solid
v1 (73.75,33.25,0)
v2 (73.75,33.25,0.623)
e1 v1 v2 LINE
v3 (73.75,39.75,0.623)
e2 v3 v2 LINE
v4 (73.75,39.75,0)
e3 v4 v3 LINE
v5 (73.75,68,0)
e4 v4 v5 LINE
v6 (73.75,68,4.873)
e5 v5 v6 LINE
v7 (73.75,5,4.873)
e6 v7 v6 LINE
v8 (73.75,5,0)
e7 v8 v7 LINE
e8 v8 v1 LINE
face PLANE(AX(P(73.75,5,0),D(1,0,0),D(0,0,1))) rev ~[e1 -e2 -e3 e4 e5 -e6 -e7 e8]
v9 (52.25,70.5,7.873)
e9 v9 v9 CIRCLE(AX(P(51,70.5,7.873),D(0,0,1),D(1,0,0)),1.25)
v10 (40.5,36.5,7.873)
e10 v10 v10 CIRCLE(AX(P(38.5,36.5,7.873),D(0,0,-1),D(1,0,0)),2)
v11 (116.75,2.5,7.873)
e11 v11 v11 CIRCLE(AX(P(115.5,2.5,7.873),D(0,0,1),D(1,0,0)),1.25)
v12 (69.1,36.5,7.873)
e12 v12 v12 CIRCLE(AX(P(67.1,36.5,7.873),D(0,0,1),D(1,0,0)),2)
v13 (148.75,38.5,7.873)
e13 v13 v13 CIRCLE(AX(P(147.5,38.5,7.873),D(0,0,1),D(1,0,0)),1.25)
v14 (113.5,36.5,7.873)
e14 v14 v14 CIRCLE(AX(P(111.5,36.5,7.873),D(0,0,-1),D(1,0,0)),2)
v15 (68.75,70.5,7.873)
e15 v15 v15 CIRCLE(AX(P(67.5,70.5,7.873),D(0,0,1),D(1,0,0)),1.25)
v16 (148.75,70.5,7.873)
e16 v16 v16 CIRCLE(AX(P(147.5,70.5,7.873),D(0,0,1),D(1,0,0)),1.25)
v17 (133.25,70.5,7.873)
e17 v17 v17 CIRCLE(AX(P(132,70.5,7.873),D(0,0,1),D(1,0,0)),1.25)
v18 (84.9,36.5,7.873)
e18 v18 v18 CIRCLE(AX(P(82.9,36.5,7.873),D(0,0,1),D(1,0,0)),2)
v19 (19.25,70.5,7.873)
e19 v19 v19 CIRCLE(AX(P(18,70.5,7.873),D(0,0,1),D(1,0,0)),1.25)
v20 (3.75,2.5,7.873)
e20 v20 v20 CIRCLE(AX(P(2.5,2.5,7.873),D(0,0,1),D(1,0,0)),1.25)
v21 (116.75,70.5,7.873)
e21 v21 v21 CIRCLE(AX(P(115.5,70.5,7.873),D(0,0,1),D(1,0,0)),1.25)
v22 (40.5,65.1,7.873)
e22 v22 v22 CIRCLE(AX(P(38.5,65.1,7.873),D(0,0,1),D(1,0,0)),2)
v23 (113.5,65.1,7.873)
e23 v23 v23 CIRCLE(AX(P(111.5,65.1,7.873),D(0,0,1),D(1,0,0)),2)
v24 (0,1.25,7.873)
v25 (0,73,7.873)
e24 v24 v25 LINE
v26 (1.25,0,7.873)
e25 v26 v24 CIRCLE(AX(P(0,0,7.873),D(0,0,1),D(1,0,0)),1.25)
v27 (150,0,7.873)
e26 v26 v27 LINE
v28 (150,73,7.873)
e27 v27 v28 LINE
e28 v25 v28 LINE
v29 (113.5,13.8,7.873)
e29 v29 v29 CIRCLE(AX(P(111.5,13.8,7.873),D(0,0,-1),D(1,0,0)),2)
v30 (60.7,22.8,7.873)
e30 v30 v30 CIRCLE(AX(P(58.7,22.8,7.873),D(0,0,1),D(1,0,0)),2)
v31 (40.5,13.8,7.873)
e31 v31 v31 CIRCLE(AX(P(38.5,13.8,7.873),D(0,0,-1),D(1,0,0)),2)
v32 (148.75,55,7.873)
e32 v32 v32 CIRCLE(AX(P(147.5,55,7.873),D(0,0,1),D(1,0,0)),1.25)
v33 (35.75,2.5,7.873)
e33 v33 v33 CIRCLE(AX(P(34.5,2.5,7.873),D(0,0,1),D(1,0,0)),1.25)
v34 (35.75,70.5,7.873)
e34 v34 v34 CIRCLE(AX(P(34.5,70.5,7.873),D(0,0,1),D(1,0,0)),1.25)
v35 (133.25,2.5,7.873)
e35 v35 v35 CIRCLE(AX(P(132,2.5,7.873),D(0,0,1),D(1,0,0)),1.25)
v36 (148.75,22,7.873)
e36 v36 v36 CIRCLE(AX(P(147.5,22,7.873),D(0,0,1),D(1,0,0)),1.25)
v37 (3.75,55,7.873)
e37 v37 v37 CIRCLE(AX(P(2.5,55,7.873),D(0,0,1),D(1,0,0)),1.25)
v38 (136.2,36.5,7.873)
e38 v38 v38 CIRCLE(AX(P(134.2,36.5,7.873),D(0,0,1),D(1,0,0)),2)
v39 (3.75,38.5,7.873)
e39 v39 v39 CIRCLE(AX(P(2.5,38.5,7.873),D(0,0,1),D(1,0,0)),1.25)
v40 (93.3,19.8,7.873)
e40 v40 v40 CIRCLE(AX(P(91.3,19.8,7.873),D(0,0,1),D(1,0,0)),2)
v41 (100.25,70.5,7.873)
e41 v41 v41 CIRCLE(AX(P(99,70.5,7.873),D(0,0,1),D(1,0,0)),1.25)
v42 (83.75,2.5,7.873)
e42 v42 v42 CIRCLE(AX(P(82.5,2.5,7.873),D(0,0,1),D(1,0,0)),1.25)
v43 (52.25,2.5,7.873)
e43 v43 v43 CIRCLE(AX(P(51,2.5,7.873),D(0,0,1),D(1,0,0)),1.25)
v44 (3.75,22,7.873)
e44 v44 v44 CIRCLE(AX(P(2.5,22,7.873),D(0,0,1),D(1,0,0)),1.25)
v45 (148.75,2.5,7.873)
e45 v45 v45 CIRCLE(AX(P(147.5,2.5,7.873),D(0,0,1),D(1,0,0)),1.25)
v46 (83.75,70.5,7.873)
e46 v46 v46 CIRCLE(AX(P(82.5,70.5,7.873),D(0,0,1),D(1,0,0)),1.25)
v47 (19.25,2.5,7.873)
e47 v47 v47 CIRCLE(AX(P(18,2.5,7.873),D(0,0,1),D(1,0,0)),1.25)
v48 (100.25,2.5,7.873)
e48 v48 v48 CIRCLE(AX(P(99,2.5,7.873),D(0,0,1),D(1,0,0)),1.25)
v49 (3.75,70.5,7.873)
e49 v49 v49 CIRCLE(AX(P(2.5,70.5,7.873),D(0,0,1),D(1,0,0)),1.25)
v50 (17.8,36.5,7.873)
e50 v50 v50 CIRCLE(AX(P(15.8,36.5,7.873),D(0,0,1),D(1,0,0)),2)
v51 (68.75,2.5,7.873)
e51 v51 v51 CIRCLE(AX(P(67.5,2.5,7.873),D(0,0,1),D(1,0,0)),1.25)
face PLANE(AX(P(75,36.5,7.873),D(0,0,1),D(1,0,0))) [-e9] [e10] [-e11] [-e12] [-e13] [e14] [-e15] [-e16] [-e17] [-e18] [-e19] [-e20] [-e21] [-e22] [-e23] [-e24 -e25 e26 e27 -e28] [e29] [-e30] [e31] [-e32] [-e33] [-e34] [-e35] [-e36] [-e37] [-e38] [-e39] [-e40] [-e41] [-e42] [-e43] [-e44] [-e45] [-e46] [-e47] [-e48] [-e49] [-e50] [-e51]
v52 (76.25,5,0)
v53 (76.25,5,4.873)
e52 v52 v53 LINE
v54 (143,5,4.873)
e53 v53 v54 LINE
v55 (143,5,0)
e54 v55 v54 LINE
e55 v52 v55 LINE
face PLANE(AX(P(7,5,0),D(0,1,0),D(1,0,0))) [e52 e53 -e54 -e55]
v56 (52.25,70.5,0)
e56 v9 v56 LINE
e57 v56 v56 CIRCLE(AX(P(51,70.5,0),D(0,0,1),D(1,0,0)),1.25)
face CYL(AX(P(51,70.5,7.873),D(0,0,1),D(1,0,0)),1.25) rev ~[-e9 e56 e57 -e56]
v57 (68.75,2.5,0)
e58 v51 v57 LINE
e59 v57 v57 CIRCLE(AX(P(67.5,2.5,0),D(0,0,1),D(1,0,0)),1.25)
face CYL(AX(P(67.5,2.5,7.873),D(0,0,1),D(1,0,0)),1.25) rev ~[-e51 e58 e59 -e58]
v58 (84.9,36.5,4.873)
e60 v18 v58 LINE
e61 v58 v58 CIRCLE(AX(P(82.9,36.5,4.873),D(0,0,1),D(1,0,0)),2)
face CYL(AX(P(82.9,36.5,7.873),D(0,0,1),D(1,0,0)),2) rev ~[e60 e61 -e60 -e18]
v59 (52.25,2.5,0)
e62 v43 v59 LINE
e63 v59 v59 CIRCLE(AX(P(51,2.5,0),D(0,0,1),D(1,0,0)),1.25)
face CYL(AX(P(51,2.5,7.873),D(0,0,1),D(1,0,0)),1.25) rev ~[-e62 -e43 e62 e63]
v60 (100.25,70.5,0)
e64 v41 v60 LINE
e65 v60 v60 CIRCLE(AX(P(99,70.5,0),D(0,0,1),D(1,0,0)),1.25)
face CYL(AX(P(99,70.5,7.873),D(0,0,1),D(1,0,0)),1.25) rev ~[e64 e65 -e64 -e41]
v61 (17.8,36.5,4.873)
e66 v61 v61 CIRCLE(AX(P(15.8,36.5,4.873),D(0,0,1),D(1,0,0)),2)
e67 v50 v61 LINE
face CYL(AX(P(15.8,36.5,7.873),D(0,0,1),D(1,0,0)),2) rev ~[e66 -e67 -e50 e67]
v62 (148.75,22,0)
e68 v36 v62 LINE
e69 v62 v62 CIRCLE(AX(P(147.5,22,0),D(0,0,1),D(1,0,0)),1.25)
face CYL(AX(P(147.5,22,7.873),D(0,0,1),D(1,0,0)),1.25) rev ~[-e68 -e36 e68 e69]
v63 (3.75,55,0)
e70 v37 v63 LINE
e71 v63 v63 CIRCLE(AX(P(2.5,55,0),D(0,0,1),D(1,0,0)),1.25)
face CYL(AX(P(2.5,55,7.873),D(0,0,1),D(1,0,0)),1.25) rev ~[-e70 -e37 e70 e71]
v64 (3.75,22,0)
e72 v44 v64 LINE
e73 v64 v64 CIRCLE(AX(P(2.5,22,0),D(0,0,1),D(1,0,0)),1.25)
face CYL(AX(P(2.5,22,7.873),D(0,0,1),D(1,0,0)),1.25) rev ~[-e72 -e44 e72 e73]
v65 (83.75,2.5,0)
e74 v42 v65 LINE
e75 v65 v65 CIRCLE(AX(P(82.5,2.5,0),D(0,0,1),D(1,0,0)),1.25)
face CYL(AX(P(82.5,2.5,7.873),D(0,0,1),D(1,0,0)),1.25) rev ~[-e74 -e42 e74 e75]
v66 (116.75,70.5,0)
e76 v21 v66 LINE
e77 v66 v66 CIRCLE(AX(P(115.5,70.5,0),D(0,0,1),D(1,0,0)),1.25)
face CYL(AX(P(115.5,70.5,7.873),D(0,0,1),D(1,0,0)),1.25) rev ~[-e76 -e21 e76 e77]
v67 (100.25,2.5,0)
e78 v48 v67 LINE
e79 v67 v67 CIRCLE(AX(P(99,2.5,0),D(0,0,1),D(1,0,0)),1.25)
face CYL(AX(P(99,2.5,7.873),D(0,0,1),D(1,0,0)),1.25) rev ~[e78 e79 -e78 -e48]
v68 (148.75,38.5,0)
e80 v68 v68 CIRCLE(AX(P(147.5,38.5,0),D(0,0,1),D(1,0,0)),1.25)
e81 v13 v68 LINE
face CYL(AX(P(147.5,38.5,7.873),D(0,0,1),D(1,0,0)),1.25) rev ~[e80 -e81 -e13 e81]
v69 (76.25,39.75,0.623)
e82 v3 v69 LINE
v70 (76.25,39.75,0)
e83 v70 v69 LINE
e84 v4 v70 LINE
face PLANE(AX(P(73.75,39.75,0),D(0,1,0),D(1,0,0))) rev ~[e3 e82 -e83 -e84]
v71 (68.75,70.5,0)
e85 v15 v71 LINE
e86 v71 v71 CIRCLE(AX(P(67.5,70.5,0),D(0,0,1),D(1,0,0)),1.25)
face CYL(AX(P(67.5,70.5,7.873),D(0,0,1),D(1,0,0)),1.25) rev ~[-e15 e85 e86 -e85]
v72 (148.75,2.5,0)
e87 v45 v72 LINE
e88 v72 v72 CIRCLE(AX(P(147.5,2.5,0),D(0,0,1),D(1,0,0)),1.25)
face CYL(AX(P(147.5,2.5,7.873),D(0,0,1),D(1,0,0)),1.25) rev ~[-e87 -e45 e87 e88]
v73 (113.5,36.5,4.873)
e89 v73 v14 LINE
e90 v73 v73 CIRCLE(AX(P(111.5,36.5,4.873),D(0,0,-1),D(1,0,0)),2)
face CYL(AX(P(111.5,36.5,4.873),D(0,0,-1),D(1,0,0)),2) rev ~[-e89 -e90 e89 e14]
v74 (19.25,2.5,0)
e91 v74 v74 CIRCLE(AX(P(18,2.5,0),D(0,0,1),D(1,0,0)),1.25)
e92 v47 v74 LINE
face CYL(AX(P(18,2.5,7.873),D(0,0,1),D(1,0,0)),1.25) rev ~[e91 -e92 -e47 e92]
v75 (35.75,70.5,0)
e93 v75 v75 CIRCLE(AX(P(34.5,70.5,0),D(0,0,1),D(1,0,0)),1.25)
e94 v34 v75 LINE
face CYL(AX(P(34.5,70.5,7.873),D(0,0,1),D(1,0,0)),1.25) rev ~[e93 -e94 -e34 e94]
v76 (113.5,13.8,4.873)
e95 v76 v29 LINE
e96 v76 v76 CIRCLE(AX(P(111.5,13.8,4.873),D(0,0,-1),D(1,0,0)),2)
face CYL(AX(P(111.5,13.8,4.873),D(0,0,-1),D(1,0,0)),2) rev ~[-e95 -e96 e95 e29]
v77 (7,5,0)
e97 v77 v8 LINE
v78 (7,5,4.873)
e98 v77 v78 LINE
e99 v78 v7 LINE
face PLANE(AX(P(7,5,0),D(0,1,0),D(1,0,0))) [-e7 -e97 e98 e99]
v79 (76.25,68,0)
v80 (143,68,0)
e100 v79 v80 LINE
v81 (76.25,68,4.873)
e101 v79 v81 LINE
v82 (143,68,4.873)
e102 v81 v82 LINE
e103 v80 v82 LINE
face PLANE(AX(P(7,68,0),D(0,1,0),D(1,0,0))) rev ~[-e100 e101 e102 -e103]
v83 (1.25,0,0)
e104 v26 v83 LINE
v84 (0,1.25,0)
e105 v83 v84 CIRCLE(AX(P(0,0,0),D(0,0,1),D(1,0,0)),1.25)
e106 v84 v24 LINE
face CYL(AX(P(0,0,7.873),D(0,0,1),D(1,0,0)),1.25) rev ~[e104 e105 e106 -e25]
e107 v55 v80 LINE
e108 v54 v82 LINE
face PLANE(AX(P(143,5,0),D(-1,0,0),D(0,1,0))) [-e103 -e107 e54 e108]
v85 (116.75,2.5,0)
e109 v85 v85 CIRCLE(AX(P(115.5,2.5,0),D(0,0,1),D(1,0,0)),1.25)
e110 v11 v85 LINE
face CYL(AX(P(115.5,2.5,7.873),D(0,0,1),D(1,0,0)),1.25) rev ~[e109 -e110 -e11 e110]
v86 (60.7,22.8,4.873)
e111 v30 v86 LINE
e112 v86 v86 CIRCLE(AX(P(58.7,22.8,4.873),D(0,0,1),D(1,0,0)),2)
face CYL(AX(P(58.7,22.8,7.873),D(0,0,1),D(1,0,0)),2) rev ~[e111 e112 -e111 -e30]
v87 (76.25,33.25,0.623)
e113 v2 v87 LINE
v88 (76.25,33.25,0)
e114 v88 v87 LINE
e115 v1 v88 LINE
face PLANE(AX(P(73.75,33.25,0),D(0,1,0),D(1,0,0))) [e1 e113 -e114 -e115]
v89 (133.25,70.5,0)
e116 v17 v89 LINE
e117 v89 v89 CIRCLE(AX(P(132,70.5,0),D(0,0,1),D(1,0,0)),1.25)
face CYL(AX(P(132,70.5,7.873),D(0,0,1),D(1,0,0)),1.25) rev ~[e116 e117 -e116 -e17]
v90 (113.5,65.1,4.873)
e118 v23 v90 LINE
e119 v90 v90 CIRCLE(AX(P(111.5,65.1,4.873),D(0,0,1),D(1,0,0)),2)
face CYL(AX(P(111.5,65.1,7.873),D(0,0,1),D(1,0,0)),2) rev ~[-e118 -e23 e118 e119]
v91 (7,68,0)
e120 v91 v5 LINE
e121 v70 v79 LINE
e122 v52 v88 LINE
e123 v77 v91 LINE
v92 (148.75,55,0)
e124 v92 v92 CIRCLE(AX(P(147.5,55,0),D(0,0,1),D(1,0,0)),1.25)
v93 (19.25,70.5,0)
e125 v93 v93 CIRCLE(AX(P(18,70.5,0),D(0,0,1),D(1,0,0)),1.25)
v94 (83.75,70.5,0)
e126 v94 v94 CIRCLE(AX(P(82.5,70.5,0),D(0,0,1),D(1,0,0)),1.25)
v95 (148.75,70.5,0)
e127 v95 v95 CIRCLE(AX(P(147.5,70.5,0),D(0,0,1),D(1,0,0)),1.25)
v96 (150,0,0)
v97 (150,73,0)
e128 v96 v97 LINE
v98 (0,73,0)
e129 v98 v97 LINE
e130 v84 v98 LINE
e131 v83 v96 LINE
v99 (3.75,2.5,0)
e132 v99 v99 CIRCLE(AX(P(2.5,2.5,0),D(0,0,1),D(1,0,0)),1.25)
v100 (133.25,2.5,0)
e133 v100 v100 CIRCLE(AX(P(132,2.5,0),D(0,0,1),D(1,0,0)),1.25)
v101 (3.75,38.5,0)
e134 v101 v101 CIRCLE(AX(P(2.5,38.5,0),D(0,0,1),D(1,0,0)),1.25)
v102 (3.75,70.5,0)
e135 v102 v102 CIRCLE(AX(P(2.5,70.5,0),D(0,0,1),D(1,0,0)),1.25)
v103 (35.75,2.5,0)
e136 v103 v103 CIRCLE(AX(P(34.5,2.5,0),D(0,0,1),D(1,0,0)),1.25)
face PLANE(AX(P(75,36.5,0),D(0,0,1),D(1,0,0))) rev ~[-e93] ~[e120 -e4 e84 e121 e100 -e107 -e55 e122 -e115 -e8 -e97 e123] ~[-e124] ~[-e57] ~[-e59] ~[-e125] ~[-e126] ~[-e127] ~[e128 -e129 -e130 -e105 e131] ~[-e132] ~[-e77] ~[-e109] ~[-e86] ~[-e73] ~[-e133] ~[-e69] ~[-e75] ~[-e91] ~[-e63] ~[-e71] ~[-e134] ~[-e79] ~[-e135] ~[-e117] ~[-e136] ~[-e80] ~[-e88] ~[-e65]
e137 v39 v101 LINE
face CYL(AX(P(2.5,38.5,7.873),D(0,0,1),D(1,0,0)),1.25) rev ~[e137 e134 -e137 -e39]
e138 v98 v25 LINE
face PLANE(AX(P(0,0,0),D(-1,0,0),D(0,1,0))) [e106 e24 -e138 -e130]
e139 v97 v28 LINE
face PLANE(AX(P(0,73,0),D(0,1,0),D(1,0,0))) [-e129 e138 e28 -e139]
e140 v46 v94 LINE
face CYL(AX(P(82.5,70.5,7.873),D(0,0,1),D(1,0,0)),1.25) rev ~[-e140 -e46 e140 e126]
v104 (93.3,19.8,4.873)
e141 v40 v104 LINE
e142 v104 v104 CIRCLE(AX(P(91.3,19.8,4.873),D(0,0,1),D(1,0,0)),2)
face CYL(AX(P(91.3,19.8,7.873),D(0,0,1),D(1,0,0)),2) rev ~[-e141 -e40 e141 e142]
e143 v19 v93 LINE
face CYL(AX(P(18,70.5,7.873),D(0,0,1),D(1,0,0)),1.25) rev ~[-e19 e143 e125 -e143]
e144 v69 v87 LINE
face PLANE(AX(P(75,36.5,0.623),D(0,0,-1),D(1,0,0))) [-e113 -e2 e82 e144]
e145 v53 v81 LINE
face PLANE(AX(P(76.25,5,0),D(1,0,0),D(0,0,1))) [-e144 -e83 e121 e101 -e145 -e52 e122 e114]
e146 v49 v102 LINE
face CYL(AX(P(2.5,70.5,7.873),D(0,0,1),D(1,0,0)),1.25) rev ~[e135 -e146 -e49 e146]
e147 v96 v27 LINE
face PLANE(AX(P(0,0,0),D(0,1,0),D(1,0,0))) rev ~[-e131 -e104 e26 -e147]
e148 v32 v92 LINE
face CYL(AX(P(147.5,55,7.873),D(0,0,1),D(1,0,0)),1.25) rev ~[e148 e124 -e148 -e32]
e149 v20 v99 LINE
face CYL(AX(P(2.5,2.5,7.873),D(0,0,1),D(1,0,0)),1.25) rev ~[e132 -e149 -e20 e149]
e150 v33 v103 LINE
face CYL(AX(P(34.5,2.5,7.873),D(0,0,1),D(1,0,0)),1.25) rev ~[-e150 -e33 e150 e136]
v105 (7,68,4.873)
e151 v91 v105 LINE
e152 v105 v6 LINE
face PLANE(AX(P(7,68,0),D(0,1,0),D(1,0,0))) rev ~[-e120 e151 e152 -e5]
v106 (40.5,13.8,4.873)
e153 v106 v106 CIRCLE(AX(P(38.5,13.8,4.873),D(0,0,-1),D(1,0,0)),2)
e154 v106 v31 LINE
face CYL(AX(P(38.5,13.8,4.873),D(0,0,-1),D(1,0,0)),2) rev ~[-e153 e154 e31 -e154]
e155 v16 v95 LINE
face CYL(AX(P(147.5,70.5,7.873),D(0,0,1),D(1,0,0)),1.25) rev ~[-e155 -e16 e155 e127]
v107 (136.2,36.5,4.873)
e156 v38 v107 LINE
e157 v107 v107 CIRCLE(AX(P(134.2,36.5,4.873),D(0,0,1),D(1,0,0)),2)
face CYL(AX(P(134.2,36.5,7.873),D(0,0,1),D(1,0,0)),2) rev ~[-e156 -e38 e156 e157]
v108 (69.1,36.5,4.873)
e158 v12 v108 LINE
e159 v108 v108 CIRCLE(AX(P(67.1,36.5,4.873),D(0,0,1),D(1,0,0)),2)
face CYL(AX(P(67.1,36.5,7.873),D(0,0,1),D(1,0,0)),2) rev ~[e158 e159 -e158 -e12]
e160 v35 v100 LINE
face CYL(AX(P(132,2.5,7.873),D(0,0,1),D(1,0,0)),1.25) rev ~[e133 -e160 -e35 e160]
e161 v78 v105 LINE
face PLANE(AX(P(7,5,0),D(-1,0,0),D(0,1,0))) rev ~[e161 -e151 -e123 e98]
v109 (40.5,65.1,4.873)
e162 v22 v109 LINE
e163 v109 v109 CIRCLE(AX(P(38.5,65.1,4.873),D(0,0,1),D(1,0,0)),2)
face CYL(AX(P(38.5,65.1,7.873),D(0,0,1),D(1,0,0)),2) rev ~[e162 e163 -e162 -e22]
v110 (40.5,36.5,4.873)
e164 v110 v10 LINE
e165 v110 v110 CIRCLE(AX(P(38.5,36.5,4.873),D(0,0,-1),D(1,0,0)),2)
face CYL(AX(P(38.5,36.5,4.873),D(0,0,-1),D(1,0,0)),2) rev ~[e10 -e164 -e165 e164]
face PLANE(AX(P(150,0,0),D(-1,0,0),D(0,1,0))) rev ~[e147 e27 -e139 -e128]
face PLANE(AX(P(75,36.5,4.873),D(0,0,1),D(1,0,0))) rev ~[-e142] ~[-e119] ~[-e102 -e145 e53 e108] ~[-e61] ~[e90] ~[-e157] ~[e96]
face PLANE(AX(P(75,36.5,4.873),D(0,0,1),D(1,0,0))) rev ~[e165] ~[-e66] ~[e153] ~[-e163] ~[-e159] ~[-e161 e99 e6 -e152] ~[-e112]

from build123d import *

# Parameters (mm, degrees)
F0_W      = 150
F0_H      = 73
F1_DEPTH  = 7.873
F2_W      = 136
F2_H      = 63
F3_DEPTH  = 4.873
F4_R      = 1.25
F5_DEPTH  = 7.873
F6_R      = 1.25
F7_DEPTH  = 7.873
F8_R      = 1.25
F9_DEPTH  = 7.873
F10_R     = 1.25
F11_DEPTH = 7.873
F12_R     = 1.25
F13_DEPTH = 7.873
F14_R     = 1.25
F15_DEPTH = 7.873
F16_R     = 1.25
F17_DEPTH = 7.873
F18_R     = 1.25
F19_DEPTH = 7.873
F20_R     = 1.25
F21_DEPTH = 7.873
F22_R     = 1.25
F23_DEPTH = 7.873
F24_R     = 1.25
F25_DEPTH = 7.873
F26_R     = 1.25
F27_DEPTH = 7.873
F28_R     = 1.25
F29_DEPTH = 7.873
F30_R     = 1.25
F31_DEPTH = 7.873
F32_R     = 1.25
F33_DEPTH = 7.873
F34_R     = 1.25
F35_DEPTH = 7.873
F36_R     = 1.25
F37_DEPTH = 7.873
F38_R     = 1.25
F39_DEPTH = 7.873
F40_R     = 1.25
F41_DEPTH = 7.873
F42_R     = 1.25
F43_DEPTH = 7.873
F44_R     = 1.25
F45_DEPTH = 7.873
F46_R     = 1.25
F47_DEPTH = 7.873
F48_R     = 1.25
F49_DEPTH = 7.873
F50_R     = 1.25
F51_DEPTH = 7.873
F52_R     = 1.25
F53_DEPTH = 7.873
F54_R     = 1.25
F55_DEPTH = 7.873
F56_R     = 2
F57_DEPTH = 3
F58_R     = 2
F59_DEPTH = 3
F60_R     = 2
F61_DEPTH = 3
F62_R     = 2
F63_DEPTH = 3
F64_R     = 2
F65_DEPTH = 3
F66_R     = 2
F67_DEPTH = 3
F68_R     = 2
F69_DEPTH = 3
F70_R     = 2
F71_DEPTH = 3
F72_W     = 2.5
F72_H     = 4.873
F73_DEPTH = 63
F74_W     = 2.5
F74_H     = 6.5
F75_DEPTH = 0.623
F76_R     = 2
F77_DEPTH = 3
F79_R     = 2
F80_DEPTH = 3
F81_R     = 2
F82_DEPTH = 3
F78_R     = 2
F83_DEPTH = 3


with BuildPart() as f1:
    # F0 (on Top) → F1 (new body)
    with BuildSketch(Plane.XY):
        with Locations((75, 36.5)):
            Rectangle(F0_W, F0_H)
    extrude(amount=F1_DEPTH)

    # F2 (on Top) → F3 (cut)
    with BuildSketch(Plane.XY):
        with Locations((75, 36.5)):
            Rectangle(F2_W, F2_H)
    extrude(amount=F3_DEPTH, mode=Mode.SUBTRACT)

    # F4 (on face) → F5 (cut)
    with BuildSketch(Plane.XY.offset(7.873)):
        with Locations((2.5, 2.5)):
            Circle(F4_R)
    extrude(amount=-F5_DEPTH, mode=Mode.SUBTRACT)

    # F6 (on face) → F7 (cut)
    with BuildSketch(Plane.XY.offset(7.873)):
        with Locations((18, 2.5)):
            Circle(F6_R)
    extrude(amount=-F7_DEPTH, mode=Mode.SUBTRACT)

    # F8 (on face) → F9 (cut)
    with BuildSketch(Plane.XY.offset(7.873)):
        with Locations((34.5, 2.5)):
            Circle(F8_R)
    extrude(amount=-F9_DEPTH, mode=Mode.SUBTRACT)

    # F10 (on face) → F11 (cut)
    with BuildSketch(Plane.XY.offset(7.873)):
        with Locations((51, 2.5)):
            Circle(F10_R)
    extrude(amount=-F11_DEPTH, mode=Mode.SUBTRACT)

    # F12 (on face) → F13 (cut)
    with BuildSketch(Plane.XY.offset(7.873)):
        with Locations((67.5, 2.5)):
            Circle(F12_R)
    extrude(amount=-F13_DEPTH, mode=Mode.SUBTRACT)

    # F14 (on face) → F15 (cut)
    with BuildSketch(Plane.XY.offset(7.873)):
        with Locations((82.5, 2.5)):
            Circle(F14_R)
    extrude(amount=-F15_DEPTH, mode=Mode.SUBTRACT)

    # F16 (on face) → F17 (cut)
    with BuildSketch(Plane.XY.offset(7.873)):
        with Locations((99, 2.5)):
            Circle(F16_R)
    extrude(amount=-F17_DEPTH, mode=Mode.SUBTRACT)

    # F18 (on face) → F19 (cut)
    with BuildSketch(Plane.XY.offset(7.873)):
        with Locations((115.5, 2.5)):
            Circle(F18_R)
    extrude(amount=-F19_DEPTH, mode=Mode.SUBTRACT)

    # F20 (on face) → F21 (cut)
    with BuildSketch(Plane.XY.offset(7.873)):
        with Locations((132, 2.5)):
            Circle(F20_R)
    extrude(amount=-F21_DEPTH, mode=Mode.SUBTRACT)

    # F22 (on face) → F23 (cut)
    with BuildSketch(Plane.XY.offset(7.873)):
        with Locations((147.5, 2.5)):
            Circle(F22_R)
    extrude(amount=-F23_DEPTH, mode=Mode.SUBTRACT)

    # F24 (on face) → F25 (cut)
    with BuildSketch(Plane.XY.offset(7.873)):
        with Locations((2.5, 22)):
            Circle(F24_R)
    extrude(amount=-F25_DEPTH, mode=Mode.SUBTRACT)

    # F26 (on face) → F27 (cut)
    with BuildSketch(Plane.XY.offset(7.873)):
        with Locations((147.5, 22)):
            Circle(F26_R)
    extrude(amount=-F27_DEPTH, mode=Mode.SUBTRACT)

    # F28 (on face) → F29 (cut)
    with BuildSketch(Plane.XY.offset(7.873)):
        with Locations((147.5, 38.5)):
            Circle(F28_R)
    extrude(amount=-F29_DEPTH, mode=Mode.SUBTRACT)

    # F30 (on face) → F31 (cut)
    with BuildSketch(Plane.XY.offset(7.873)):
        with Locations((2.5, 38.5)):
            Circle(F30_R)
    extrude(amount=-F31_DEPTH, mode=Mode.SUBTRACT)

    # F32 (on face) → F33 (cut)
    with BuildSketch(Plane.XY.offset(7.873)):
        with Locations((2.5, 55)):
            Circle(F32_R)
    extrude(amount=-F33_DEPTH, mode=Mode.SUBTRACT)

    # F34 (on face) → F35 (cut)
    with BuildSketch(Plane.XY.offset(7.873)):
        with Locations((147.5, 55)):
            Circle(F34_R)
    extrude(amount=-F35_DEPTH, mode=Mode.SUBTRACT)

    # F36 (on face) → F37 (cut)
    with BuildSketch(Plane.XY.offset(7.873)):
        with Locations((2.5, 70.5)):
            Circle(F36_R)
    extrude(amount=-F37_DEPTH, mode=Mode.SUBTRACT)

    # F38 (on face) → F39 (cut)
    with BuildSketch(Plane.XY.offset(7.873)):
        with Locations((147.5, 70.5)):
            Circle(F38_R)
    extrude(amount=-F39_DEPTH, mode=Mode.SUBTRACT)

    # F40 (on face) → F41 (cut)
    with BuildSketch(Plane.XY.offset(7.873)):
        with Locations((18, 70.5)):
            Circle(F40_R)
    extrude(amount=-F41_DEPTH, mode=Mode.SUBTRACT)

    # F42 (on face) → F43 (cut)
    with BuildSketch(Plane.XY.offset(7.873)):
        with Locations((132, 70.5)):
            Circle(F42_R)
    extrude(amount=-F43_DEPTH, mode=Mode.SUBTRACT)

    # F44 (on face) → F45 (cut)
    with BuildSketch(Plane.XY.offset(7.873)):
        with Locations((34.5, 70.5)):
            Circle(F44_R)
        Circle(F44_R)
    extrude(amount=-F45_DEPTH, mode=Mode.SUBTRACT)

    # F46 (on face) → F47 (cut)
    with BuildSketch(Plane.XY.offset(7.873)):
        with Locations((115.5, 70.5)):
            Circle(F46_R)
    extrude(amount=-F47_DEPTH, mode=Mode.SUBTRACT)

    # F48 (on face) → F49 (cut)
    with BuildSketch(Plane.XY.offset(7.873)):
        with Locations((51, 70.5)):
            Circle(F48_R)
    extrude(amount=-F49_DEPTH, mode=Mode.SUBTRACT)

    # F50 (on face) → F51 (cut)
    with BuildSketch(Plane.XY.offset(7.873)):
        with Locations((67.5, 70.5)):
            Circle(F50_R)
    extrude(amount=-F51_DEPTH, mode=Mode.SUBTRACT)

    # F52 (on face) → F53 (cut)
    with BuildSketch(Plane.XY.offset(7.873)):
        with Locations((82.5, 70.5)):
            Circle(F52_R)
    extrude(amount=-F53_DEPTH, mode=Mode.SUBTRACT)

    # F54 (on face) → F55 (cut)
    with BuildSketch(Plane.XY.offset(7.873)):
        with Locations((99, 70.5)):
            Circle(F54_R)
    extrude(amount=-F55_DEPTH, mode=Mode.SUBTRACT)

    # F56 (on face) → F57 (cut)
    with BuildSketch(Plane.XY.offset(7.873)):
        with Locations((38.5, 65.1)):
            Circle(F56_R)
    extrude(amount=-F57_DEPTH, mode=Mode.SUBTRACT)

    # F58 (on face) → F59 (cut)
    with BuildSketch(Plane.XY.offset(7.873)):
        with Locations((15.8, 36.5)):
            Circle(F58_R)
    extrude(amount=-F59_DEPTH, mode=Mode.SUBTRACT)

    # F60 (on face) → F61 (cut)
    with BuildSketch(Plane.XY.offset(7.873)):
        with Locations((67.1, 36.5)):
            Circle(F60_R)
    extrude(amount=-F61_DEPTH, mode=Mode.SUBTRACT)

    # F62 (on face) → F63 (cut)
    with BuildSketch(Plane.XY.offset(7.873)):
        with Locations((111.5, 65.1)):
            Circle(F62_R)
    extrude(amount=-F63_DEPTH, mode=Mode.SUBTRACT)

    # F64 (on face) → F65 (cut)
    with BuildSketch(Plane.XY.offset(7.873)):
        with Locations((82.9, 36.5)):
            Circle(F64_R)
    extrude(amount=-F65_DEPTH, mode=Mode.SUBTRACT)

    # F66 (on face) → F67 (cut)
    with BuildSketch(Plane.XY.offset(7.873)):
        with Locations((134.2, 36.5)):
            Circle(F66_R)
    extrude(amount=-F67_DEPTH, mode=Mode.SUBTRACT)

    # F68 (on face) → F69 (cut)
    with BuildSketch(Plane.XY.offset(7.873)):
        with Locations((58.7, 22.8)):
            Circle(F68_R)
    extrude(amount=-F69_DEPTH, mode=Mode.SUBTRACT)

    # F70 (on face) → F71 (cut)
    with BuildSketch(Plane.XY.offset(7.873)):
        with Locations((91.3, 19.8)):
            Circle(F70_R)
    extrude(amount=-F71_DEPTH, mode=Mode.SUBTRACT)

    # F72 (on face) → F73 (join)
    with BuildSketch(Plane(origin=(0, 5, 0), x_dir=(-1, 0, 0), z_dir=(0, 1, 0))):
        with Locations((-75, 2.4365)):
            Rectangle(F72_W, F72_H)
    extrude(amount=F73_DEPTH)

    # F74 (on face) → F75 (cut)
    with BuildSketch(Plane(origin=(0, 0, 0), x_dir=(1, 0, 0), z_dir=(0, 0, -1))):
        with Locations((75, -36.5)):
            Rectangle(F74_W, F74_H)
    extrude(amount=-F75_DEPTH, mode=Mode.SUBTRACT)

    # F76 (on face) → F77 (cut)
    with BuildSketch(Plane(origin=(0, 0, 4.873), x_dir=(1, 0, 0), z_dir=(0, 0, -1))):
        with Locations((38.5, -13.8)):
            Circle(F76_R)
    extrude(amount=-F77_DEPTH, mode=Mode.SUBTRACT)

    # F79 (on face) → F80 (cut)
    with BuildSketch(Plane(origin=(0, 0, 4.873), x_dir=(1, 0, 0), z_dir=(0, 0, -1))):
        with Locations((111.5, -36.5)):
            Circle(F79_R)
    extrude(amount=-F80_DEPTH, mode=Mode.SUBTRACT)

    # F81 (on face) → F82 (cut)
    with BuildSketch(Plane(origin=(0, 0, 4.873), x_dir=(1, 0, 0), z_dir=(0, 0, -1))):
        with Locations((111.5, -13.8)):
            Circle(F81_R)
    extrude(amount=-F82_DEPTH, mode=Mode.SUBTRACT)

    # F78 (on face) → F83 (cut)
    with BuildSketch(Plane(origin=(0, 0, 4.873), x_dir=(1, 0, 0), z_dir=(0, 0, -1))):
        with Locations((38.5, -36.5)):
            Circle(F78_R)
    extrude(amount=-F83_DEPTH, mode=Mode.SUBTRACT)


solid = f1.part
